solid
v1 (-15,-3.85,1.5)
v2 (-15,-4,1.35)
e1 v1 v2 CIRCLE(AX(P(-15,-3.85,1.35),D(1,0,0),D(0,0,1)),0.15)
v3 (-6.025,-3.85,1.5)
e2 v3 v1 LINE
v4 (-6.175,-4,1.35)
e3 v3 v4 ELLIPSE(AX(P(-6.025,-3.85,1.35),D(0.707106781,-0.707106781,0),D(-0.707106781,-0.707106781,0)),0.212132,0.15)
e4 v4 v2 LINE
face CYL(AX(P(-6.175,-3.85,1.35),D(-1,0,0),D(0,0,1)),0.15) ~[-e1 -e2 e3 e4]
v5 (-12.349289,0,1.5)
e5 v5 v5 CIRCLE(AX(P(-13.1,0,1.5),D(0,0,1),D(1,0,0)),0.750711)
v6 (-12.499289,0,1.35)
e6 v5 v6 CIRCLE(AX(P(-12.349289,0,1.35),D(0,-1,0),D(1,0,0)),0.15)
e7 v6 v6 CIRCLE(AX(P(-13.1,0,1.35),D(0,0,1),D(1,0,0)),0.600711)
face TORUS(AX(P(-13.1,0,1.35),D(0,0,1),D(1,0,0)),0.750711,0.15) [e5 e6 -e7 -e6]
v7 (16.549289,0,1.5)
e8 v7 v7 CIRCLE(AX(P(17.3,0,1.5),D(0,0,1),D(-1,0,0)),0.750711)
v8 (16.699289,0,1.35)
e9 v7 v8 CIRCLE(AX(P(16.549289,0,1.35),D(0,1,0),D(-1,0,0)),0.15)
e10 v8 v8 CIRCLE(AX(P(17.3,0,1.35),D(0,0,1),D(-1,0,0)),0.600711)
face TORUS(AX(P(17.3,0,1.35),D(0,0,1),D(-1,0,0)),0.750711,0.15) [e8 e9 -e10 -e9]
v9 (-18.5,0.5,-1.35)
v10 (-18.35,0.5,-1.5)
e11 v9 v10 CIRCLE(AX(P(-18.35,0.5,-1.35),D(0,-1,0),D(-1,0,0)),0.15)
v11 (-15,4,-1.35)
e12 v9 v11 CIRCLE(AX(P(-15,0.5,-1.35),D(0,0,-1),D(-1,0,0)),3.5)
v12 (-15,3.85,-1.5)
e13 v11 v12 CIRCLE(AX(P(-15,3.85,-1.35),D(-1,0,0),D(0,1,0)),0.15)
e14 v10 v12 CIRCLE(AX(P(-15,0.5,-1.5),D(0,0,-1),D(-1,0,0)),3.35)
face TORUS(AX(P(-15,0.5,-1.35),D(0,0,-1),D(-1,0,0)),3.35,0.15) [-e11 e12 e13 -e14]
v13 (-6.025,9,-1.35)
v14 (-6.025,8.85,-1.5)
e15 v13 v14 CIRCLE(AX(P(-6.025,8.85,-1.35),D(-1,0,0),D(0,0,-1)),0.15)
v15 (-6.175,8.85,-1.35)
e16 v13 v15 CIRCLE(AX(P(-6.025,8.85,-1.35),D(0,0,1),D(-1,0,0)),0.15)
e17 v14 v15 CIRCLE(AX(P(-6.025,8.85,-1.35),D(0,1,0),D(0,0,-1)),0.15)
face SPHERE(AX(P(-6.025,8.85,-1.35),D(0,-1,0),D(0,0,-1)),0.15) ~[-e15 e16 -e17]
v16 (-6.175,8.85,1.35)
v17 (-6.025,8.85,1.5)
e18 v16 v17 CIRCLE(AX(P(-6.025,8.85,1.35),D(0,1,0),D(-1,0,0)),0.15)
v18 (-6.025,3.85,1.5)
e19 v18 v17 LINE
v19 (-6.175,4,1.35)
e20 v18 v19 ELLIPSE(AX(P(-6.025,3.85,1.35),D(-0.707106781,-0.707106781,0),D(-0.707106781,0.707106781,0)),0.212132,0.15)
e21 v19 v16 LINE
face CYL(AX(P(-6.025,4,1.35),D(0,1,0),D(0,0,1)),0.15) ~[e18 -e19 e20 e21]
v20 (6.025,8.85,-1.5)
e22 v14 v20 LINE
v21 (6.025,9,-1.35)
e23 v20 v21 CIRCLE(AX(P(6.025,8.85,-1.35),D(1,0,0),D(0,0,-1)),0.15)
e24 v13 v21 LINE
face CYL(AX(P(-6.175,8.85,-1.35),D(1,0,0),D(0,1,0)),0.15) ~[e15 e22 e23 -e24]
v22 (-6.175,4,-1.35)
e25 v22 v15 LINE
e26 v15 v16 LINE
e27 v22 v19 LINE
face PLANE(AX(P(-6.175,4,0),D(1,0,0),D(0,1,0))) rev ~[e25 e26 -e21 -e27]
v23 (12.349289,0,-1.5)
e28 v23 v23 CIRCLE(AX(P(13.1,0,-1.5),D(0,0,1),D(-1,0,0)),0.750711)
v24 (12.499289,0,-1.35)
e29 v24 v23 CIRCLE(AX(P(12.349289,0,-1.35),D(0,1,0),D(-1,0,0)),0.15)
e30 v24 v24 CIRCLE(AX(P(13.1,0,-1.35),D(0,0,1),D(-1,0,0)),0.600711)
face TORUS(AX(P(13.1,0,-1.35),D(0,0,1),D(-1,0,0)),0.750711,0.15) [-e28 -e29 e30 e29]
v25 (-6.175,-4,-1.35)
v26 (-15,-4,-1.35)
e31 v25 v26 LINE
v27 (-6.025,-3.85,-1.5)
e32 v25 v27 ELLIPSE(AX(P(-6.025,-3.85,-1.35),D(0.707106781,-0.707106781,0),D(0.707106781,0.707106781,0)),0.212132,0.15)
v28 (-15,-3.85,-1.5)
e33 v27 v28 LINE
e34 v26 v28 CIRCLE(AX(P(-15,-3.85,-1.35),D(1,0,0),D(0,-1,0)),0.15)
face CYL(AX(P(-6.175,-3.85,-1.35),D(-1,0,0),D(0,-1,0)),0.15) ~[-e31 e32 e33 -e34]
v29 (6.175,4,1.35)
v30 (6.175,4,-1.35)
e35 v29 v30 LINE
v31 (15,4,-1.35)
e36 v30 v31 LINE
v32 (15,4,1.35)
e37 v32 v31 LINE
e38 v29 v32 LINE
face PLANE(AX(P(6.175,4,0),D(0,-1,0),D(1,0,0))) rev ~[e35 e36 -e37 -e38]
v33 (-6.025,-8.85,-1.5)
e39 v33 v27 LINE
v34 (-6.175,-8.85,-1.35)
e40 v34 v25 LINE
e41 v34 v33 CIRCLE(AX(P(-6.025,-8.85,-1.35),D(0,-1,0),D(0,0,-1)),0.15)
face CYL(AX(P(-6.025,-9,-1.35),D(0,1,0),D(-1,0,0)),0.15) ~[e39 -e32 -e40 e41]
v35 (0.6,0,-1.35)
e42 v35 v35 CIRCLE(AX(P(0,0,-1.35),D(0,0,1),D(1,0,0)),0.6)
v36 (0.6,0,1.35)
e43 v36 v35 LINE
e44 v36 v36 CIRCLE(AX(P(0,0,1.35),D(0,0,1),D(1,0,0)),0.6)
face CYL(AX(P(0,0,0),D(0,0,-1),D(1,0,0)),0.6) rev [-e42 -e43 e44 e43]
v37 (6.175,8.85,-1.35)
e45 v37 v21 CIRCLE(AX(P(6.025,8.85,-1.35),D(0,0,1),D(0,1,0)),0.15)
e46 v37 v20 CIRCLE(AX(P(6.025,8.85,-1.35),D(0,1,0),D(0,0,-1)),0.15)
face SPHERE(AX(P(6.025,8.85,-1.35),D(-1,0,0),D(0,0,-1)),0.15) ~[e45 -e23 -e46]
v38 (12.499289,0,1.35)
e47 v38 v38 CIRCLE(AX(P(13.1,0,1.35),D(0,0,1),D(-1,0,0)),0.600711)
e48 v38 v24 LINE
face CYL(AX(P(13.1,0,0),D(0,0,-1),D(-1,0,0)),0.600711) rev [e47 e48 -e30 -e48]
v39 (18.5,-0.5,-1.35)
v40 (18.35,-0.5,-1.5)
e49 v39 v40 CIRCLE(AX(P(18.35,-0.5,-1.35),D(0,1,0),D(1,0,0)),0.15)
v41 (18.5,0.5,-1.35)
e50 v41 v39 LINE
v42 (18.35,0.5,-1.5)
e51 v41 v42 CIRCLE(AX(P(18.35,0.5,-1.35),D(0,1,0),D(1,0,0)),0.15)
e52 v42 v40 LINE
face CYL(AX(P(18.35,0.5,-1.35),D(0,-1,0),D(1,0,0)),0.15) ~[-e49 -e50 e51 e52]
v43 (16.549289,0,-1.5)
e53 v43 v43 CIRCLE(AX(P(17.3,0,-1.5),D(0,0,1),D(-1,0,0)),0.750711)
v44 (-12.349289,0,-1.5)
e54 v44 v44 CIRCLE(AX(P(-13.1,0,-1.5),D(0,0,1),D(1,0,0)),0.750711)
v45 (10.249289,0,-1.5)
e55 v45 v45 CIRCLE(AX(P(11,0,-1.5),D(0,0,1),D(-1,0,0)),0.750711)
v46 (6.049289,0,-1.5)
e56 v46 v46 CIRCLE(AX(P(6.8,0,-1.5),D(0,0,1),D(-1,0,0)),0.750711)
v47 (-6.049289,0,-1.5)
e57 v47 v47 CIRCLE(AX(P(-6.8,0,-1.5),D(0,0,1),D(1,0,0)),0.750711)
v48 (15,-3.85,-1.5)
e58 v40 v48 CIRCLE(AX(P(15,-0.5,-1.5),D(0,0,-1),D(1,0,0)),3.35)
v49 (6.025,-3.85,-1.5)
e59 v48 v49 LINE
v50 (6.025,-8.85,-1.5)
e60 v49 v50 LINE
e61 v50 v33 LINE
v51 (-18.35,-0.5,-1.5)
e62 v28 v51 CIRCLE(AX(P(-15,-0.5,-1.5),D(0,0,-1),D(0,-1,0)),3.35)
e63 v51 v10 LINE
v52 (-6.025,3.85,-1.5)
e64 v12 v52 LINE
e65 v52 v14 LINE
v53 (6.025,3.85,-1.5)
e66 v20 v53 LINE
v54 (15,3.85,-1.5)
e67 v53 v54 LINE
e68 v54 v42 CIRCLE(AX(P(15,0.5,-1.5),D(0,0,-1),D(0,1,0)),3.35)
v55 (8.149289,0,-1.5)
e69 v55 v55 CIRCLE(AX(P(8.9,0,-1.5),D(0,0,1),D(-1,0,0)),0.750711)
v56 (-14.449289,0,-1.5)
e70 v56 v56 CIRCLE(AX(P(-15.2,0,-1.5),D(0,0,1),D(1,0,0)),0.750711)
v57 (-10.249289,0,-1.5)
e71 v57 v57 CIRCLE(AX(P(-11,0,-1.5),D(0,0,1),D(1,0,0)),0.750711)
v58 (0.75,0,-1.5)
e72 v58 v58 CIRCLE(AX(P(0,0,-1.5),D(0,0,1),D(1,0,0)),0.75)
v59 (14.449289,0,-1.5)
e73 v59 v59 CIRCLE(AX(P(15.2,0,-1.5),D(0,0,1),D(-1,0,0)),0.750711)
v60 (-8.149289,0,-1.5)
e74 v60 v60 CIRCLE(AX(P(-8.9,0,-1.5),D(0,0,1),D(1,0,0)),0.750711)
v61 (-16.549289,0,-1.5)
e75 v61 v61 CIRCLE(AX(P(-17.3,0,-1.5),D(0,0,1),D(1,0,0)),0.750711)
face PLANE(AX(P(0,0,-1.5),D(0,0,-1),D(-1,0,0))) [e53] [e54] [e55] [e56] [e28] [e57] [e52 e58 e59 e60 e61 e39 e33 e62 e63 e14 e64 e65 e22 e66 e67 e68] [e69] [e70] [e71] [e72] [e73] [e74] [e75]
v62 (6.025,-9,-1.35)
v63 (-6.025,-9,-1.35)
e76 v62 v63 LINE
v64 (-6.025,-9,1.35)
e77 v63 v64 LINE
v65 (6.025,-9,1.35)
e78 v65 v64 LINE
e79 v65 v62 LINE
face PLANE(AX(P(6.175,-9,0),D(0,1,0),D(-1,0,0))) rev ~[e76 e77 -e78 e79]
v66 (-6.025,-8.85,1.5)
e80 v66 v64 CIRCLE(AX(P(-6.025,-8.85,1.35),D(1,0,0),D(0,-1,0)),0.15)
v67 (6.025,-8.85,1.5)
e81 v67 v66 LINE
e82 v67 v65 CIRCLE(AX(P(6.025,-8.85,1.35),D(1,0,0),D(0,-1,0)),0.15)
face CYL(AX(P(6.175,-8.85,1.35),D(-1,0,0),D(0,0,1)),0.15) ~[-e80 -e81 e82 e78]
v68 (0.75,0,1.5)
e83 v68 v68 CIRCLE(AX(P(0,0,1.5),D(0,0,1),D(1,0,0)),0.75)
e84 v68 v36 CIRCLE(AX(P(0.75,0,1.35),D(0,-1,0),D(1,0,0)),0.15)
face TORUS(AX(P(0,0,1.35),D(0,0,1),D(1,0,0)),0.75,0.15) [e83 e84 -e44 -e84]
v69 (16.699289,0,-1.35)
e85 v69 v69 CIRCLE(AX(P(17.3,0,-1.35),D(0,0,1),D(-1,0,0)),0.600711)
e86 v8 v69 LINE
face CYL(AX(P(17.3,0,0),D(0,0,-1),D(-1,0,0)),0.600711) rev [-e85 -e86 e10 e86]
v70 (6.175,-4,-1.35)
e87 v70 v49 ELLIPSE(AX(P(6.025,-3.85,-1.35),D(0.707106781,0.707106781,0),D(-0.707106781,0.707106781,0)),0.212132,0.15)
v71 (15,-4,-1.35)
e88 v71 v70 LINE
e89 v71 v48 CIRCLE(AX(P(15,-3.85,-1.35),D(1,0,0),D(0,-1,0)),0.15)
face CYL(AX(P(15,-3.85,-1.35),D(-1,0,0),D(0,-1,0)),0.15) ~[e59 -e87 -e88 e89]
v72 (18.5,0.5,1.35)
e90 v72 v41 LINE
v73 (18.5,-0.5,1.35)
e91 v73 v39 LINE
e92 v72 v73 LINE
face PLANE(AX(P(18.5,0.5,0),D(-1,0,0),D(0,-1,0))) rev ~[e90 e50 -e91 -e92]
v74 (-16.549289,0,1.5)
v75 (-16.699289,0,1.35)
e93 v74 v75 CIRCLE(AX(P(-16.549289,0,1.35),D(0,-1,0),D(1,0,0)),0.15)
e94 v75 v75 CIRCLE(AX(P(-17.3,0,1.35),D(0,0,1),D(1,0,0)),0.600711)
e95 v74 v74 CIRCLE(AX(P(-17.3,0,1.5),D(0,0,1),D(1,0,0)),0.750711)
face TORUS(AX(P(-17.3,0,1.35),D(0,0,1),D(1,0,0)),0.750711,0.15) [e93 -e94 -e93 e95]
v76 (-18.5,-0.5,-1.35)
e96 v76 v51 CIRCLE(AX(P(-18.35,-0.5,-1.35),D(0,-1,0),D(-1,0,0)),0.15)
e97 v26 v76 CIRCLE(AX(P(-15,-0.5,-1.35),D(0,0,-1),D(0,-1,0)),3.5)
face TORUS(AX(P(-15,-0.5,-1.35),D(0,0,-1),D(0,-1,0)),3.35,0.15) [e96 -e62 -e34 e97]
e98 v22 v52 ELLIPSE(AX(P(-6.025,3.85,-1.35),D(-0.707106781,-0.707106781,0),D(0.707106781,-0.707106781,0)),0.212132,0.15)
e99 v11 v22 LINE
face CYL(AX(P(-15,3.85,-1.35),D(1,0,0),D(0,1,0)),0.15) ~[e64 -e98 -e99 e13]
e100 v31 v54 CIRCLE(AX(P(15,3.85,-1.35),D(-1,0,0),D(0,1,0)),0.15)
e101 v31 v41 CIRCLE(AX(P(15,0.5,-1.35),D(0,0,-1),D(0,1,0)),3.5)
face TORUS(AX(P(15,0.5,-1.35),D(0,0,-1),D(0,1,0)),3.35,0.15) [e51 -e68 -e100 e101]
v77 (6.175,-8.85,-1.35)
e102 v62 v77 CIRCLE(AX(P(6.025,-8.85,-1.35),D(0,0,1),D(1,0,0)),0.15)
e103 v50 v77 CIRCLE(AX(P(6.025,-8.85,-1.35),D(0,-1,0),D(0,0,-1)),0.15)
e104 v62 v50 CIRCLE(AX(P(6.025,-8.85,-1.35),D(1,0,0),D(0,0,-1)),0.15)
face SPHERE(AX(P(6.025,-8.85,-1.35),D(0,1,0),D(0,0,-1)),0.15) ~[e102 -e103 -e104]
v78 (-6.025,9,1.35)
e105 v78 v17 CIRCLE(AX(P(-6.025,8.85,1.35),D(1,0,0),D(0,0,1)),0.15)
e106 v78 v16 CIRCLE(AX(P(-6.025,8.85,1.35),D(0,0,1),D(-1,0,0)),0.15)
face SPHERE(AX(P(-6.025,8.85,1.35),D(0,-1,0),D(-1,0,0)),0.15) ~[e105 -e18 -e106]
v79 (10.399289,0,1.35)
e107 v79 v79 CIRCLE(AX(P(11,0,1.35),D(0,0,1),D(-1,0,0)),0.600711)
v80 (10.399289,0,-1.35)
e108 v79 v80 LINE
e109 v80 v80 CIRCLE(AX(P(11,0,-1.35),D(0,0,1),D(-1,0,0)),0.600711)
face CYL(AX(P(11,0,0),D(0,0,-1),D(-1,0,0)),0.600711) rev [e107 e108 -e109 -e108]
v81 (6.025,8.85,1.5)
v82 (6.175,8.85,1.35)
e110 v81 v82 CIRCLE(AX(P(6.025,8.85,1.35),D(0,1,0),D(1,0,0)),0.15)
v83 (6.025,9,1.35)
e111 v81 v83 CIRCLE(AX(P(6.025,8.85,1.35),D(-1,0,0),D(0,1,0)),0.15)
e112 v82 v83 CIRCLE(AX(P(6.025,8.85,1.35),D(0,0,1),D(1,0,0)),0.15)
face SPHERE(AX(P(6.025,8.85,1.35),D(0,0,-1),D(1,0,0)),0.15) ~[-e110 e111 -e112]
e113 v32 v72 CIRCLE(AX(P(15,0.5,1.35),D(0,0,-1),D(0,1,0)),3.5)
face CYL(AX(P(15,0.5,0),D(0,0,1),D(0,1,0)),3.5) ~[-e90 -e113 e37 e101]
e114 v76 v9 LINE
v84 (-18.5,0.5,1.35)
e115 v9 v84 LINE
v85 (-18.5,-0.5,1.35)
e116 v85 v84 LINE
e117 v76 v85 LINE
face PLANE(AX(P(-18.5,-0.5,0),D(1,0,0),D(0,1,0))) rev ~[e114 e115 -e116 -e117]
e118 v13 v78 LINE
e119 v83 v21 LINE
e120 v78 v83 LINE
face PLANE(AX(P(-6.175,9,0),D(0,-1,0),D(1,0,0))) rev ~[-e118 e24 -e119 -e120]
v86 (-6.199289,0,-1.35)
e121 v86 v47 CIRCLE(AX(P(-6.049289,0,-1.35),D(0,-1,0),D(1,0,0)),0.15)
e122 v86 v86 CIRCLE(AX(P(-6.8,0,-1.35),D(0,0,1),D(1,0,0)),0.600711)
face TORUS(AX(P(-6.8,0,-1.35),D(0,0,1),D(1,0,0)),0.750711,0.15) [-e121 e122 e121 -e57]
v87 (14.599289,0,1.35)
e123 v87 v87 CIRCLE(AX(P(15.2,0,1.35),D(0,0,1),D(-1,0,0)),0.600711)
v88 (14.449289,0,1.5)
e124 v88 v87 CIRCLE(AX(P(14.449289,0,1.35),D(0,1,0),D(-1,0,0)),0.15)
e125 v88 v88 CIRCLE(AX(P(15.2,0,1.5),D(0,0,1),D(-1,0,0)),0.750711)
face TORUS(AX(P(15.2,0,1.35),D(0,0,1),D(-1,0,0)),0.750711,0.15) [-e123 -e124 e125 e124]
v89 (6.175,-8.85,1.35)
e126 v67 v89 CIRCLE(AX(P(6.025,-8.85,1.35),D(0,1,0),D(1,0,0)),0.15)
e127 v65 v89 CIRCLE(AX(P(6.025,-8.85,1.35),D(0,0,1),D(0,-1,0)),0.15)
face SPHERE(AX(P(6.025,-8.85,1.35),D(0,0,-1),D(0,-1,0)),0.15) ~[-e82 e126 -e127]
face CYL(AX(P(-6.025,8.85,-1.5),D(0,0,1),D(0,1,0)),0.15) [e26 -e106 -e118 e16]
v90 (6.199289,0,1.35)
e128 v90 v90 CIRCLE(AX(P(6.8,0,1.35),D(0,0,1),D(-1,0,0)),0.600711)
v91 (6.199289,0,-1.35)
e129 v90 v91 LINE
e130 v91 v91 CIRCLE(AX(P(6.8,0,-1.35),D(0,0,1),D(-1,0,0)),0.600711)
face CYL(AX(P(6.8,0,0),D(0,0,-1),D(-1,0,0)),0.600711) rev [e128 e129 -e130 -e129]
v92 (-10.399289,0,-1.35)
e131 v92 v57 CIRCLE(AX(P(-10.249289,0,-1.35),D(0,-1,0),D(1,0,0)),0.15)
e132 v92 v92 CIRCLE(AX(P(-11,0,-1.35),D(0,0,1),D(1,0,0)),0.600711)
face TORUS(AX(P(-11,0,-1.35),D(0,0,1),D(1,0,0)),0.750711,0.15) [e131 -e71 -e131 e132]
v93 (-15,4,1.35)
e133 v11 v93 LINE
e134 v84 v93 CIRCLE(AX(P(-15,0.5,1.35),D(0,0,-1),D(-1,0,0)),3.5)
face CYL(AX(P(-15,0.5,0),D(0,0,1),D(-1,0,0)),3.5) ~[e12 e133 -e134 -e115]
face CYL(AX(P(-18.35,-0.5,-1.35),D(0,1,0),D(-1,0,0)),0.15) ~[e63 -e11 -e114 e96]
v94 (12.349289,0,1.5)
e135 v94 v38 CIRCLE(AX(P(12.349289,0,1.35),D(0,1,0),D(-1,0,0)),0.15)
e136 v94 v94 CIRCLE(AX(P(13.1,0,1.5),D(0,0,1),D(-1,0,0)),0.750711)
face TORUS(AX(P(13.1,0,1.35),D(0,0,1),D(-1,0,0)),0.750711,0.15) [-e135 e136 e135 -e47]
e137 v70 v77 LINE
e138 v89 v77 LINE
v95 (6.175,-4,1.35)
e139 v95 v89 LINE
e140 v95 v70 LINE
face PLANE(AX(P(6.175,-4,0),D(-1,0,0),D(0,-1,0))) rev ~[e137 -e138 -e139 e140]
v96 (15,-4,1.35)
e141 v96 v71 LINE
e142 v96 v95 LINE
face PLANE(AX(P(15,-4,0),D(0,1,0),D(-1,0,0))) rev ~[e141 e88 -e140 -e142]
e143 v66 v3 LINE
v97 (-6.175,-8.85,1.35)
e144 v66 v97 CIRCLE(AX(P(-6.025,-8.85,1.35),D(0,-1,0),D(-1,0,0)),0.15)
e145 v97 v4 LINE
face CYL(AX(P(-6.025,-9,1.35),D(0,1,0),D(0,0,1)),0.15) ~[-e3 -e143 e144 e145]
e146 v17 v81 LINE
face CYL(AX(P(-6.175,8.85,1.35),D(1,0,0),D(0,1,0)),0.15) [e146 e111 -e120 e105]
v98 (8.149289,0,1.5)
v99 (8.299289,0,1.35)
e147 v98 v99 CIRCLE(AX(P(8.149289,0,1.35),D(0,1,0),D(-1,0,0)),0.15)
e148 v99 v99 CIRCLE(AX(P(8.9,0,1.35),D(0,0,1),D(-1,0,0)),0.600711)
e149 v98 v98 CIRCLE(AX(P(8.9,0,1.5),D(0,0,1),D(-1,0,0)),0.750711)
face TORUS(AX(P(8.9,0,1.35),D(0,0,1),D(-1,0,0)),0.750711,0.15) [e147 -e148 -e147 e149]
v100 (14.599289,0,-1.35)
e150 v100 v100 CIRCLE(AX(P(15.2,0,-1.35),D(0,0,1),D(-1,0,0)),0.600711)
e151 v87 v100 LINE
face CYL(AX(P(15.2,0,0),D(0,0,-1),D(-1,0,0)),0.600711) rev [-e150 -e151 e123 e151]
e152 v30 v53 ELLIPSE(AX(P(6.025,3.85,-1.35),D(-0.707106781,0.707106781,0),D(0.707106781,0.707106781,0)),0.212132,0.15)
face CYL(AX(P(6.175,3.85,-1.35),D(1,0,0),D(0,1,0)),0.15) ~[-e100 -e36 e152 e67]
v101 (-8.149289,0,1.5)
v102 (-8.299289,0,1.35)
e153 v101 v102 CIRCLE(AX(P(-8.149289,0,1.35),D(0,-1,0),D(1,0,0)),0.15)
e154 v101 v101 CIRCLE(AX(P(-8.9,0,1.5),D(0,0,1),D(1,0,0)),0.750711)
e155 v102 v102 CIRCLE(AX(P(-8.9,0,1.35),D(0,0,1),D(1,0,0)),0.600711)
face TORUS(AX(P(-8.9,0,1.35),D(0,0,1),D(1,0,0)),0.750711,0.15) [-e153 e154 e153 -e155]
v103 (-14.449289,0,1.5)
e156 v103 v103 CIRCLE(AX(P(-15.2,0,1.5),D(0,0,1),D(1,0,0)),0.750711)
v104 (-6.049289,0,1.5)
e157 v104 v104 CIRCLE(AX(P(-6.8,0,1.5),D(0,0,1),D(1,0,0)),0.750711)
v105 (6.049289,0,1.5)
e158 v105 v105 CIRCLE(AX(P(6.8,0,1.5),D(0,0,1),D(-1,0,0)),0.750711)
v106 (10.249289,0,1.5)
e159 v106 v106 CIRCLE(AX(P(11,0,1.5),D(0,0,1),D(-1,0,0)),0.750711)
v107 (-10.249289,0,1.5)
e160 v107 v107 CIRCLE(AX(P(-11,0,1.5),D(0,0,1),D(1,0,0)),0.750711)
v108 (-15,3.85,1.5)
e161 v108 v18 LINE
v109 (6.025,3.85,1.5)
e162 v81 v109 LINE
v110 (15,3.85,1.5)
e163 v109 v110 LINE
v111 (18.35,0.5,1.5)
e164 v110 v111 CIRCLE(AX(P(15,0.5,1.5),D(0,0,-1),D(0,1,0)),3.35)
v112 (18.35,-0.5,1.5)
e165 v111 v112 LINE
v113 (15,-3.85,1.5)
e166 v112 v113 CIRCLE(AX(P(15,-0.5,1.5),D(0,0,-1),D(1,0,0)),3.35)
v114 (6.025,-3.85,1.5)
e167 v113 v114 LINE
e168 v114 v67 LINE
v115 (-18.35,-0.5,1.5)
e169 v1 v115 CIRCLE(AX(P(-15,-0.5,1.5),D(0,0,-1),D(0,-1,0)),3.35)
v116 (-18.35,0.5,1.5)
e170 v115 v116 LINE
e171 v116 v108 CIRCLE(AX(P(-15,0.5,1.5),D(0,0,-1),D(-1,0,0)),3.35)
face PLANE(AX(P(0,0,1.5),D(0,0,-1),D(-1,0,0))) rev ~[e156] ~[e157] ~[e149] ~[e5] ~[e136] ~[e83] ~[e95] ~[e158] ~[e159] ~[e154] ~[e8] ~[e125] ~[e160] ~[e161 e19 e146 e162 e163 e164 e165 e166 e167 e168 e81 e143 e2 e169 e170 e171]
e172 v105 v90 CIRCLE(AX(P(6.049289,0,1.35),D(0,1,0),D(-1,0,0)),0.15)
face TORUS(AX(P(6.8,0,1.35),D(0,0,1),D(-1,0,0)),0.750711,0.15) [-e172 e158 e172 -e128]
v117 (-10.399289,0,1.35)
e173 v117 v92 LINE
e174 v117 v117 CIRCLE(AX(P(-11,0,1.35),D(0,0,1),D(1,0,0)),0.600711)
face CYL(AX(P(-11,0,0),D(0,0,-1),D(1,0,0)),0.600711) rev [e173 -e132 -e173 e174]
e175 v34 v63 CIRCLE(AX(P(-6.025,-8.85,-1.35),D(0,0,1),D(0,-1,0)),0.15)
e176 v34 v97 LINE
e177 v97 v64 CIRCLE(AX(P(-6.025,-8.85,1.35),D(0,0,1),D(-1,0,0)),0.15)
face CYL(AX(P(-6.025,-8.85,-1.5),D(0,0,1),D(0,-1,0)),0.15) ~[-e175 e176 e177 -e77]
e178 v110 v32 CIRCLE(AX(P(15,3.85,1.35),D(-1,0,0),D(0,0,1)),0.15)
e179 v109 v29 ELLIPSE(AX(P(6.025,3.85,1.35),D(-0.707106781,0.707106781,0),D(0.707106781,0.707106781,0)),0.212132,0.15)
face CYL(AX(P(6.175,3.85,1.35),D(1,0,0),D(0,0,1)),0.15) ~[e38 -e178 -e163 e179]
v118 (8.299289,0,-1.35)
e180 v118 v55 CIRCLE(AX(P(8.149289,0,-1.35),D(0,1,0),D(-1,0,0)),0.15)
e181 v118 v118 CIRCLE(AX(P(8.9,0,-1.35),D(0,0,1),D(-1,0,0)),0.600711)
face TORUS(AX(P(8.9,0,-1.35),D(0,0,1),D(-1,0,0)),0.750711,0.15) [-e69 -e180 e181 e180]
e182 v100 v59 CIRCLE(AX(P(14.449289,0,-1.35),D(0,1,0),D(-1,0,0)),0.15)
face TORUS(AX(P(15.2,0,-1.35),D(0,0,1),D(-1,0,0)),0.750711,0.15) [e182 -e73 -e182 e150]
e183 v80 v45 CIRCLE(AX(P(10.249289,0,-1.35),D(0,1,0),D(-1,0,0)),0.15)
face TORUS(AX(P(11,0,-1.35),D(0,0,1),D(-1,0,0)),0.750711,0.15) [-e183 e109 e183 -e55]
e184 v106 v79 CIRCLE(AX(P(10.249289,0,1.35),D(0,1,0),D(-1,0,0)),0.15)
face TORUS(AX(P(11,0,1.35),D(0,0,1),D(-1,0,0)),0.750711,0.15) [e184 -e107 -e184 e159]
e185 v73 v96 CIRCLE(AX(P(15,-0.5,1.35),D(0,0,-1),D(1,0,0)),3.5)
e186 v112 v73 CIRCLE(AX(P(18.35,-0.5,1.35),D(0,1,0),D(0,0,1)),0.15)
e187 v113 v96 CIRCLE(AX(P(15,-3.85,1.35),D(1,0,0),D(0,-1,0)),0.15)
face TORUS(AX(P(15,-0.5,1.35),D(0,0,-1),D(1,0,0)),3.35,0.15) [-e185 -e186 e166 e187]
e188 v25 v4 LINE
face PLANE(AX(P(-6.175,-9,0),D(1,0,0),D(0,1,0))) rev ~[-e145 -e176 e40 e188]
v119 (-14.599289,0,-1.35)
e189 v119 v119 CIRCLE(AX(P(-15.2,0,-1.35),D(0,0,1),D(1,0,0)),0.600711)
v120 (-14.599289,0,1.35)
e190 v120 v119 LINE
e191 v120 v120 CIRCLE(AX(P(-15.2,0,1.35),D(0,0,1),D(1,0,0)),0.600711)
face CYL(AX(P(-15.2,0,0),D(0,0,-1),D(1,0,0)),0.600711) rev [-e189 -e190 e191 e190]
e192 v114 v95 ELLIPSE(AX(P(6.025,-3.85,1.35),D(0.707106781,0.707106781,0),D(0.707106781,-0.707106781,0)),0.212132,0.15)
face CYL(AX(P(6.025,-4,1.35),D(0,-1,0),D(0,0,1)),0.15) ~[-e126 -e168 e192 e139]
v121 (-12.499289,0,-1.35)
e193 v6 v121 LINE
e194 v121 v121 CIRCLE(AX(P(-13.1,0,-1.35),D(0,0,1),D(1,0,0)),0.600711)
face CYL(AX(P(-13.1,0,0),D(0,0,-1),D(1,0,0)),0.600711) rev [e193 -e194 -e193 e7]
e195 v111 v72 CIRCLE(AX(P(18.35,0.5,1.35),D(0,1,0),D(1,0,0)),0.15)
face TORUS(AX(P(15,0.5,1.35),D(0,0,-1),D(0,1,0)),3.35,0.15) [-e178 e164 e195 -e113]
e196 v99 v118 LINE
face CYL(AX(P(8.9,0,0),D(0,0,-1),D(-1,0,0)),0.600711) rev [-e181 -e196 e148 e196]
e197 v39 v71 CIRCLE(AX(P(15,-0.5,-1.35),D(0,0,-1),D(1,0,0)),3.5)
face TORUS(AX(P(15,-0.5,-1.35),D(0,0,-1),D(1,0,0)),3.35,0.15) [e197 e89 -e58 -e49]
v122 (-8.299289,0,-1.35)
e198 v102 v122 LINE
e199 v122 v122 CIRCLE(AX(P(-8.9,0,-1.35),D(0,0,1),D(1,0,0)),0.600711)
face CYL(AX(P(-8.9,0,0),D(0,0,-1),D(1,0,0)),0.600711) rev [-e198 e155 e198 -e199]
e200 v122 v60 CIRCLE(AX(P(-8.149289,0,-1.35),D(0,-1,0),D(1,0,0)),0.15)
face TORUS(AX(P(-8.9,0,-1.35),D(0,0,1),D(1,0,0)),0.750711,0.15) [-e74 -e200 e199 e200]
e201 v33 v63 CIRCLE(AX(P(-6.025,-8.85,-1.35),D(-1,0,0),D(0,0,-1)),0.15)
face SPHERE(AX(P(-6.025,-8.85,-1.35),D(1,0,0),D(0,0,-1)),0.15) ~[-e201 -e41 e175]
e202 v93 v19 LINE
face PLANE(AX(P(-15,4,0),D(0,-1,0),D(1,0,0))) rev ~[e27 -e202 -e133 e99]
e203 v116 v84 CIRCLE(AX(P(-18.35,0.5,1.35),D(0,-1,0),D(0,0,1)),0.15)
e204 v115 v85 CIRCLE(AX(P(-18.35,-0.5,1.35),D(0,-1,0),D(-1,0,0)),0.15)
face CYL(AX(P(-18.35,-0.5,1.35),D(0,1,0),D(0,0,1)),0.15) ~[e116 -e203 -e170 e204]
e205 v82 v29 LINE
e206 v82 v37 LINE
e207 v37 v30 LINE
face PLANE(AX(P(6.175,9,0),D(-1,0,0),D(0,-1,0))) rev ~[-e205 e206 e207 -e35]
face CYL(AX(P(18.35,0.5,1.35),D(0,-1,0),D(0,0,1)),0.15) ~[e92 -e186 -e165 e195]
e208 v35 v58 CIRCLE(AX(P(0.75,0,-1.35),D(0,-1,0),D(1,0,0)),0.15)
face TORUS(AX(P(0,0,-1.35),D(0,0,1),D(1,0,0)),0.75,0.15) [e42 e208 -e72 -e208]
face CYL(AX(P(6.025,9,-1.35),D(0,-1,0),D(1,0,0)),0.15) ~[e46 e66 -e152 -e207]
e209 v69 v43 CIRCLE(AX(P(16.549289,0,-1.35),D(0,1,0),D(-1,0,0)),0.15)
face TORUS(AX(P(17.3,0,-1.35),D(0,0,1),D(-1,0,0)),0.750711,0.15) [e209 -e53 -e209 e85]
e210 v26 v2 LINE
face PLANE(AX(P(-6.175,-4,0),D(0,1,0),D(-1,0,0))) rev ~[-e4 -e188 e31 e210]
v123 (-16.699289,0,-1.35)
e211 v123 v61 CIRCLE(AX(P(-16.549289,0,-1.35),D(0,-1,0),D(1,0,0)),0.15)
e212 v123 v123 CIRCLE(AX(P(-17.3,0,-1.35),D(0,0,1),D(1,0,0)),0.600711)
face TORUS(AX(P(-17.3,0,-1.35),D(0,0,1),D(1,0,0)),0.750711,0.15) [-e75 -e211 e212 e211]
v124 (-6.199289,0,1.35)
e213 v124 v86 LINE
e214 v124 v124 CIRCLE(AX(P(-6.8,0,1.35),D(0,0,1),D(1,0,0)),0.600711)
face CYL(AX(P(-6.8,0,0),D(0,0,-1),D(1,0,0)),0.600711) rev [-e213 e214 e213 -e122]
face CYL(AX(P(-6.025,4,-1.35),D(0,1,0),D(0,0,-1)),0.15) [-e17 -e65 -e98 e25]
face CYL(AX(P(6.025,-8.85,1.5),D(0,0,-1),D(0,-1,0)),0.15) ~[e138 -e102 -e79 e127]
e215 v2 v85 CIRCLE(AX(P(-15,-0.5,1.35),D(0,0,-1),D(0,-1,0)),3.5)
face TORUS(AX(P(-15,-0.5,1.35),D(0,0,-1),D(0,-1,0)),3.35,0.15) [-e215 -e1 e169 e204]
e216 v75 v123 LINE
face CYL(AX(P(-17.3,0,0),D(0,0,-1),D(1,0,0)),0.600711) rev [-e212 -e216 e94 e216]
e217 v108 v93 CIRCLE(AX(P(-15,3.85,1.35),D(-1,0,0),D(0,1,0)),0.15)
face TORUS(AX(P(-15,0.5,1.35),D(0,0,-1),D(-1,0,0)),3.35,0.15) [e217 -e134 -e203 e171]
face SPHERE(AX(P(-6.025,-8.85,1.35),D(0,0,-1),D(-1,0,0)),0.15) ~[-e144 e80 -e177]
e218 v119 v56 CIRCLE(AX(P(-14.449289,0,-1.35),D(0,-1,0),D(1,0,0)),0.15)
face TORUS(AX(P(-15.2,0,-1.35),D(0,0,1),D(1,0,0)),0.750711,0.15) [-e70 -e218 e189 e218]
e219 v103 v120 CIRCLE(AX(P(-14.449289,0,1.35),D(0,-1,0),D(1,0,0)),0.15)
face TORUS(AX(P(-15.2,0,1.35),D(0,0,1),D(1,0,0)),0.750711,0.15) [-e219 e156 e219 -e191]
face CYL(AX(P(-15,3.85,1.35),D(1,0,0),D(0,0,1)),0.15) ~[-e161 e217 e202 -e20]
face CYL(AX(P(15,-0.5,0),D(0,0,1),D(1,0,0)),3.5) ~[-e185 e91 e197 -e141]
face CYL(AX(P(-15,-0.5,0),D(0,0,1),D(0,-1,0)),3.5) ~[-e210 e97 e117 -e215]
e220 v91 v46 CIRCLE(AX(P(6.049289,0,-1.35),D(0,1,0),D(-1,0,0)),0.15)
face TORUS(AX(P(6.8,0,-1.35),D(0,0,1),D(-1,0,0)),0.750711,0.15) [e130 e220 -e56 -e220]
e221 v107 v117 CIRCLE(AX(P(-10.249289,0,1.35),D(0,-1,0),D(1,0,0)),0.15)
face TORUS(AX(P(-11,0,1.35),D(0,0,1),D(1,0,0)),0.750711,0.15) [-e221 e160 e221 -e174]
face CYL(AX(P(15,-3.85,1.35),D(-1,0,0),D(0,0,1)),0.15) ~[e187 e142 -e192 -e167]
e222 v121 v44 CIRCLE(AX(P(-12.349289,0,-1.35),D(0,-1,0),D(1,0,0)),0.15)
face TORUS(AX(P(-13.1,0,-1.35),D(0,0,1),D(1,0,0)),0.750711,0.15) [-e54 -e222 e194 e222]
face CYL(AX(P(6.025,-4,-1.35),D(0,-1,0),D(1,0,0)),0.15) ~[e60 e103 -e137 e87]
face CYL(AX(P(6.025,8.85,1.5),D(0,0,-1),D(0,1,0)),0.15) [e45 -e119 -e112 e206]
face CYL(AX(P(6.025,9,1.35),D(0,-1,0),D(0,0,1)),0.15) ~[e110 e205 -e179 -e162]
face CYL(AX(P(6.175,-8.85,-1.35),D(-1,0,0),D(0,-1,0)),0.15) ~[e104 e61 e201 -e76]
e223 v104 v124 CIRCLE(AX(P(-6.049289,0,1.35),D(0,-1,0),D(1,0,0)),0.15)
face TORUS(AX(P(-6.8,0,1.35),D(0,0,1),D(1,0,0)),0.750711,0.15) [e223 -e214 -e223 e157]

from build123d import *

# Parameters (mm, degrees)
SKETCH1_R           = 0.6
SKETCH1_R_2         = 0.600711192
BOSS_EXTRUDE1_DEPTH = 1.5
FILLET1_R           = 0.15


with BuildPart() as part:
    # Sketch1 → Boss-Extrude1 (new, symmetric)
    with BuildSketch(Plane.XY):
        with BuildLine():
            Line((-6.175, 9), (6.175, 9))
            Line((6.175, 9), (6.175, 4))
            Line((6.175, 4), (15, 4))
            ThreePointArc((15, 4), (17.474873734, 2.974873734), (18.5, 0.5))
            Line((18.5, 0.5), (18.5, -0.5))
            ThreePointArc((18.5, -0.5), (17.474873734, -2.974873734), (15, -4))
            Line((15, -4), (6.175, -4))
            Line((6.175, -4), (6.175, -9))
            Line((6.175, -9), (-6.175, -9))
            Line((-6.175, -9), (-6.175, -4))
            Line((-6.175, -4), (-15, -4))
            ThreePointArc((-15, -4), (-17.474873734, -2.974873734), (-18.5, -0.5))
            Line((-18.5, -0.5), (-18.5, 0.5))
            ThreePointArc((-18.5, 0.5), (-17.474873734, 2.974873734), (-15, 4))
            Line((-15, 4), (-6.175, 4))
            Line((-6.175, 4), (-6.175, 9))
        make_face()
        Circle(SKETCH1_R, mode=Mode.SUBTRACT)
        with Locations((-17.3, 0)):
            Circle(SKETCH1_R_2, mode=Mode.SUBTRACT)
        with Locations((-15.2, 0)):
            Circle(SKETCH1_R_2, mode=Mode.SUBTRACT)
        with Locations((-13.1, 0)):
            Circle(SKETCH1_R_2, mode=Mode.SUBTRACT)
        with Locations((-11, 0)):
            Circle(SKETCH1_R_2, mode=Mode.SUBTRACT)
        with Locations((-8.9, 0)):
            Circle(SKETCH1_R_2, mode=Mode.SUBTRACT)
        with Locations((-6.8, 0)):
            Circle(SKETCH1_R_2, mode=Mode.SUBTRACT)
        with Locations(Location((6.8, 0, 0), (0, 0, 180))):
            Circle(SKETCH1_R_2, mode=Mode.SUBTRACT)
        with Locations(Location((8.9, 0, 0), (0, 0, 180))):
            Circle(SKETCH1_R_2, mode=Mode.SUBTRACT)
        with Locations(Location((11, 0, 0), (0, 0, 180))):
            Circle(SKETCH1_R_2, mode=Mode.SUBTRACT)
        with Locations(Location((13.1, 0, 0), (0, 0, 180))):
            Circle(SKETCH1_R_2, mode=Mode.SUBTRACT)
        with Locations(Location((15.2, 0, 0), (0, 0, 180))):
            Circle(SKETCH1_R_2, mode=Mode.SUBTRACT)
        with Locations(Location((17.3, 0, 0), (0, 0, 180))):
            Circle(SKETCH1_R_2, mode=Mode.SUBTRACT)
    extrude(amount=BOSS_EXTRUDE1_DEPTH, both=True)

    # Fillet1
    fillet1_edges = [part.edges().sort_by_distance(p)[0] for p in [
        (-6.175, 6.5, 1.5),
        (10.5875, 4, -1.5),
        (17.474873734, 2.974873734, -1.5),
        (18.5, 0, -1.5),
        (-10.5875, 4, 1.5),
        (17.474873734, -2.974873734, -1.5),
        (10.5875, -4, -1.5),
        (6.175, -6.5, -1.5),
        (0, -9, -1.5),
        (-6.175, -6.5, -1.5),
        (-10.5875, -4, -1.5),
        (-17.474873734, -2.974873734, -1.5),
        (-18.5, 0, -1.5),
        (-17.474873734, 2.974873734, -1.5),
        (-10.5875, 4, -1.5),
        (-17.474873734, 2.974873734, 1.5),
        (-6.175, 6.5, -1.5),
        (0, 9, -1.5),
        (6.175, 6.5, -1.5),
        (-18.5, 0, 1.5),
        (6.175, -9, 0),
        (-6.175, -9, 0),
        (-6.175, 9, 0),
        (6.175, 9, 0),
        (-17.474873734, -2.974873734, 1.5),
        (-10.5875, -4, 1.5),
        (-6.175, -6.5, 1.5),
        (-17.900711192, 0, -1.5),
        (-17.900711192, 0, 1.5),
        (0, -9, 1.5),
        (-0.6, 0, -1.5),
        (-0.6, 0, 1.5),
        (6.175, -6.5, 1.5),
        (7.400711192, 0, -1.5),
        (7.400711192, 0, 1.5),
        (10.5875, -4, 1.5),
        (6.175, 6.5, 1.5),
        (-15.800711192, 0, -1.5),
        (-15.800711192, 0, 1.5),
        (17.474873734, -2.974873734, 1.5),
        (-13.700711192, 0, -1.5),
        (-13.700711192, 0, 1.5),
        (18.5, 0, 1.5),
        (-11.600711192, 0, -1.5),
        (-11.600711192, 0, 1.5),
        (17.474873734, 2.974873734, 1.5),
        (-9.500711192, 0, -1.5),
        (-9.500711192, 0, 1.5),
        (10.5875, 4, 1.5),
        (-7.400711192, 0, -1.5),
        (-7.400711192, 0, 1.5),
        (9.500711192, 0, -1.5),
        (9.500711192, 0, 1.5),
        (11.600711192, 0, -1.5),
        (11.600711192, 0, 1.5),
        (13.700711192, 0, -1.5),
        (13.700711192, 0, 1.5),
        (15.800711192, 0, -1.5),
        (15.800711192, 0, 1.5),
        (17.900711192, 0, -1.5),
        (17.900711192, 0, 1.5),
        (0, 9, 1.5),
    ]]
    fillet(fillet1_edges, radius=FILLET1_R)


solid = part.part
